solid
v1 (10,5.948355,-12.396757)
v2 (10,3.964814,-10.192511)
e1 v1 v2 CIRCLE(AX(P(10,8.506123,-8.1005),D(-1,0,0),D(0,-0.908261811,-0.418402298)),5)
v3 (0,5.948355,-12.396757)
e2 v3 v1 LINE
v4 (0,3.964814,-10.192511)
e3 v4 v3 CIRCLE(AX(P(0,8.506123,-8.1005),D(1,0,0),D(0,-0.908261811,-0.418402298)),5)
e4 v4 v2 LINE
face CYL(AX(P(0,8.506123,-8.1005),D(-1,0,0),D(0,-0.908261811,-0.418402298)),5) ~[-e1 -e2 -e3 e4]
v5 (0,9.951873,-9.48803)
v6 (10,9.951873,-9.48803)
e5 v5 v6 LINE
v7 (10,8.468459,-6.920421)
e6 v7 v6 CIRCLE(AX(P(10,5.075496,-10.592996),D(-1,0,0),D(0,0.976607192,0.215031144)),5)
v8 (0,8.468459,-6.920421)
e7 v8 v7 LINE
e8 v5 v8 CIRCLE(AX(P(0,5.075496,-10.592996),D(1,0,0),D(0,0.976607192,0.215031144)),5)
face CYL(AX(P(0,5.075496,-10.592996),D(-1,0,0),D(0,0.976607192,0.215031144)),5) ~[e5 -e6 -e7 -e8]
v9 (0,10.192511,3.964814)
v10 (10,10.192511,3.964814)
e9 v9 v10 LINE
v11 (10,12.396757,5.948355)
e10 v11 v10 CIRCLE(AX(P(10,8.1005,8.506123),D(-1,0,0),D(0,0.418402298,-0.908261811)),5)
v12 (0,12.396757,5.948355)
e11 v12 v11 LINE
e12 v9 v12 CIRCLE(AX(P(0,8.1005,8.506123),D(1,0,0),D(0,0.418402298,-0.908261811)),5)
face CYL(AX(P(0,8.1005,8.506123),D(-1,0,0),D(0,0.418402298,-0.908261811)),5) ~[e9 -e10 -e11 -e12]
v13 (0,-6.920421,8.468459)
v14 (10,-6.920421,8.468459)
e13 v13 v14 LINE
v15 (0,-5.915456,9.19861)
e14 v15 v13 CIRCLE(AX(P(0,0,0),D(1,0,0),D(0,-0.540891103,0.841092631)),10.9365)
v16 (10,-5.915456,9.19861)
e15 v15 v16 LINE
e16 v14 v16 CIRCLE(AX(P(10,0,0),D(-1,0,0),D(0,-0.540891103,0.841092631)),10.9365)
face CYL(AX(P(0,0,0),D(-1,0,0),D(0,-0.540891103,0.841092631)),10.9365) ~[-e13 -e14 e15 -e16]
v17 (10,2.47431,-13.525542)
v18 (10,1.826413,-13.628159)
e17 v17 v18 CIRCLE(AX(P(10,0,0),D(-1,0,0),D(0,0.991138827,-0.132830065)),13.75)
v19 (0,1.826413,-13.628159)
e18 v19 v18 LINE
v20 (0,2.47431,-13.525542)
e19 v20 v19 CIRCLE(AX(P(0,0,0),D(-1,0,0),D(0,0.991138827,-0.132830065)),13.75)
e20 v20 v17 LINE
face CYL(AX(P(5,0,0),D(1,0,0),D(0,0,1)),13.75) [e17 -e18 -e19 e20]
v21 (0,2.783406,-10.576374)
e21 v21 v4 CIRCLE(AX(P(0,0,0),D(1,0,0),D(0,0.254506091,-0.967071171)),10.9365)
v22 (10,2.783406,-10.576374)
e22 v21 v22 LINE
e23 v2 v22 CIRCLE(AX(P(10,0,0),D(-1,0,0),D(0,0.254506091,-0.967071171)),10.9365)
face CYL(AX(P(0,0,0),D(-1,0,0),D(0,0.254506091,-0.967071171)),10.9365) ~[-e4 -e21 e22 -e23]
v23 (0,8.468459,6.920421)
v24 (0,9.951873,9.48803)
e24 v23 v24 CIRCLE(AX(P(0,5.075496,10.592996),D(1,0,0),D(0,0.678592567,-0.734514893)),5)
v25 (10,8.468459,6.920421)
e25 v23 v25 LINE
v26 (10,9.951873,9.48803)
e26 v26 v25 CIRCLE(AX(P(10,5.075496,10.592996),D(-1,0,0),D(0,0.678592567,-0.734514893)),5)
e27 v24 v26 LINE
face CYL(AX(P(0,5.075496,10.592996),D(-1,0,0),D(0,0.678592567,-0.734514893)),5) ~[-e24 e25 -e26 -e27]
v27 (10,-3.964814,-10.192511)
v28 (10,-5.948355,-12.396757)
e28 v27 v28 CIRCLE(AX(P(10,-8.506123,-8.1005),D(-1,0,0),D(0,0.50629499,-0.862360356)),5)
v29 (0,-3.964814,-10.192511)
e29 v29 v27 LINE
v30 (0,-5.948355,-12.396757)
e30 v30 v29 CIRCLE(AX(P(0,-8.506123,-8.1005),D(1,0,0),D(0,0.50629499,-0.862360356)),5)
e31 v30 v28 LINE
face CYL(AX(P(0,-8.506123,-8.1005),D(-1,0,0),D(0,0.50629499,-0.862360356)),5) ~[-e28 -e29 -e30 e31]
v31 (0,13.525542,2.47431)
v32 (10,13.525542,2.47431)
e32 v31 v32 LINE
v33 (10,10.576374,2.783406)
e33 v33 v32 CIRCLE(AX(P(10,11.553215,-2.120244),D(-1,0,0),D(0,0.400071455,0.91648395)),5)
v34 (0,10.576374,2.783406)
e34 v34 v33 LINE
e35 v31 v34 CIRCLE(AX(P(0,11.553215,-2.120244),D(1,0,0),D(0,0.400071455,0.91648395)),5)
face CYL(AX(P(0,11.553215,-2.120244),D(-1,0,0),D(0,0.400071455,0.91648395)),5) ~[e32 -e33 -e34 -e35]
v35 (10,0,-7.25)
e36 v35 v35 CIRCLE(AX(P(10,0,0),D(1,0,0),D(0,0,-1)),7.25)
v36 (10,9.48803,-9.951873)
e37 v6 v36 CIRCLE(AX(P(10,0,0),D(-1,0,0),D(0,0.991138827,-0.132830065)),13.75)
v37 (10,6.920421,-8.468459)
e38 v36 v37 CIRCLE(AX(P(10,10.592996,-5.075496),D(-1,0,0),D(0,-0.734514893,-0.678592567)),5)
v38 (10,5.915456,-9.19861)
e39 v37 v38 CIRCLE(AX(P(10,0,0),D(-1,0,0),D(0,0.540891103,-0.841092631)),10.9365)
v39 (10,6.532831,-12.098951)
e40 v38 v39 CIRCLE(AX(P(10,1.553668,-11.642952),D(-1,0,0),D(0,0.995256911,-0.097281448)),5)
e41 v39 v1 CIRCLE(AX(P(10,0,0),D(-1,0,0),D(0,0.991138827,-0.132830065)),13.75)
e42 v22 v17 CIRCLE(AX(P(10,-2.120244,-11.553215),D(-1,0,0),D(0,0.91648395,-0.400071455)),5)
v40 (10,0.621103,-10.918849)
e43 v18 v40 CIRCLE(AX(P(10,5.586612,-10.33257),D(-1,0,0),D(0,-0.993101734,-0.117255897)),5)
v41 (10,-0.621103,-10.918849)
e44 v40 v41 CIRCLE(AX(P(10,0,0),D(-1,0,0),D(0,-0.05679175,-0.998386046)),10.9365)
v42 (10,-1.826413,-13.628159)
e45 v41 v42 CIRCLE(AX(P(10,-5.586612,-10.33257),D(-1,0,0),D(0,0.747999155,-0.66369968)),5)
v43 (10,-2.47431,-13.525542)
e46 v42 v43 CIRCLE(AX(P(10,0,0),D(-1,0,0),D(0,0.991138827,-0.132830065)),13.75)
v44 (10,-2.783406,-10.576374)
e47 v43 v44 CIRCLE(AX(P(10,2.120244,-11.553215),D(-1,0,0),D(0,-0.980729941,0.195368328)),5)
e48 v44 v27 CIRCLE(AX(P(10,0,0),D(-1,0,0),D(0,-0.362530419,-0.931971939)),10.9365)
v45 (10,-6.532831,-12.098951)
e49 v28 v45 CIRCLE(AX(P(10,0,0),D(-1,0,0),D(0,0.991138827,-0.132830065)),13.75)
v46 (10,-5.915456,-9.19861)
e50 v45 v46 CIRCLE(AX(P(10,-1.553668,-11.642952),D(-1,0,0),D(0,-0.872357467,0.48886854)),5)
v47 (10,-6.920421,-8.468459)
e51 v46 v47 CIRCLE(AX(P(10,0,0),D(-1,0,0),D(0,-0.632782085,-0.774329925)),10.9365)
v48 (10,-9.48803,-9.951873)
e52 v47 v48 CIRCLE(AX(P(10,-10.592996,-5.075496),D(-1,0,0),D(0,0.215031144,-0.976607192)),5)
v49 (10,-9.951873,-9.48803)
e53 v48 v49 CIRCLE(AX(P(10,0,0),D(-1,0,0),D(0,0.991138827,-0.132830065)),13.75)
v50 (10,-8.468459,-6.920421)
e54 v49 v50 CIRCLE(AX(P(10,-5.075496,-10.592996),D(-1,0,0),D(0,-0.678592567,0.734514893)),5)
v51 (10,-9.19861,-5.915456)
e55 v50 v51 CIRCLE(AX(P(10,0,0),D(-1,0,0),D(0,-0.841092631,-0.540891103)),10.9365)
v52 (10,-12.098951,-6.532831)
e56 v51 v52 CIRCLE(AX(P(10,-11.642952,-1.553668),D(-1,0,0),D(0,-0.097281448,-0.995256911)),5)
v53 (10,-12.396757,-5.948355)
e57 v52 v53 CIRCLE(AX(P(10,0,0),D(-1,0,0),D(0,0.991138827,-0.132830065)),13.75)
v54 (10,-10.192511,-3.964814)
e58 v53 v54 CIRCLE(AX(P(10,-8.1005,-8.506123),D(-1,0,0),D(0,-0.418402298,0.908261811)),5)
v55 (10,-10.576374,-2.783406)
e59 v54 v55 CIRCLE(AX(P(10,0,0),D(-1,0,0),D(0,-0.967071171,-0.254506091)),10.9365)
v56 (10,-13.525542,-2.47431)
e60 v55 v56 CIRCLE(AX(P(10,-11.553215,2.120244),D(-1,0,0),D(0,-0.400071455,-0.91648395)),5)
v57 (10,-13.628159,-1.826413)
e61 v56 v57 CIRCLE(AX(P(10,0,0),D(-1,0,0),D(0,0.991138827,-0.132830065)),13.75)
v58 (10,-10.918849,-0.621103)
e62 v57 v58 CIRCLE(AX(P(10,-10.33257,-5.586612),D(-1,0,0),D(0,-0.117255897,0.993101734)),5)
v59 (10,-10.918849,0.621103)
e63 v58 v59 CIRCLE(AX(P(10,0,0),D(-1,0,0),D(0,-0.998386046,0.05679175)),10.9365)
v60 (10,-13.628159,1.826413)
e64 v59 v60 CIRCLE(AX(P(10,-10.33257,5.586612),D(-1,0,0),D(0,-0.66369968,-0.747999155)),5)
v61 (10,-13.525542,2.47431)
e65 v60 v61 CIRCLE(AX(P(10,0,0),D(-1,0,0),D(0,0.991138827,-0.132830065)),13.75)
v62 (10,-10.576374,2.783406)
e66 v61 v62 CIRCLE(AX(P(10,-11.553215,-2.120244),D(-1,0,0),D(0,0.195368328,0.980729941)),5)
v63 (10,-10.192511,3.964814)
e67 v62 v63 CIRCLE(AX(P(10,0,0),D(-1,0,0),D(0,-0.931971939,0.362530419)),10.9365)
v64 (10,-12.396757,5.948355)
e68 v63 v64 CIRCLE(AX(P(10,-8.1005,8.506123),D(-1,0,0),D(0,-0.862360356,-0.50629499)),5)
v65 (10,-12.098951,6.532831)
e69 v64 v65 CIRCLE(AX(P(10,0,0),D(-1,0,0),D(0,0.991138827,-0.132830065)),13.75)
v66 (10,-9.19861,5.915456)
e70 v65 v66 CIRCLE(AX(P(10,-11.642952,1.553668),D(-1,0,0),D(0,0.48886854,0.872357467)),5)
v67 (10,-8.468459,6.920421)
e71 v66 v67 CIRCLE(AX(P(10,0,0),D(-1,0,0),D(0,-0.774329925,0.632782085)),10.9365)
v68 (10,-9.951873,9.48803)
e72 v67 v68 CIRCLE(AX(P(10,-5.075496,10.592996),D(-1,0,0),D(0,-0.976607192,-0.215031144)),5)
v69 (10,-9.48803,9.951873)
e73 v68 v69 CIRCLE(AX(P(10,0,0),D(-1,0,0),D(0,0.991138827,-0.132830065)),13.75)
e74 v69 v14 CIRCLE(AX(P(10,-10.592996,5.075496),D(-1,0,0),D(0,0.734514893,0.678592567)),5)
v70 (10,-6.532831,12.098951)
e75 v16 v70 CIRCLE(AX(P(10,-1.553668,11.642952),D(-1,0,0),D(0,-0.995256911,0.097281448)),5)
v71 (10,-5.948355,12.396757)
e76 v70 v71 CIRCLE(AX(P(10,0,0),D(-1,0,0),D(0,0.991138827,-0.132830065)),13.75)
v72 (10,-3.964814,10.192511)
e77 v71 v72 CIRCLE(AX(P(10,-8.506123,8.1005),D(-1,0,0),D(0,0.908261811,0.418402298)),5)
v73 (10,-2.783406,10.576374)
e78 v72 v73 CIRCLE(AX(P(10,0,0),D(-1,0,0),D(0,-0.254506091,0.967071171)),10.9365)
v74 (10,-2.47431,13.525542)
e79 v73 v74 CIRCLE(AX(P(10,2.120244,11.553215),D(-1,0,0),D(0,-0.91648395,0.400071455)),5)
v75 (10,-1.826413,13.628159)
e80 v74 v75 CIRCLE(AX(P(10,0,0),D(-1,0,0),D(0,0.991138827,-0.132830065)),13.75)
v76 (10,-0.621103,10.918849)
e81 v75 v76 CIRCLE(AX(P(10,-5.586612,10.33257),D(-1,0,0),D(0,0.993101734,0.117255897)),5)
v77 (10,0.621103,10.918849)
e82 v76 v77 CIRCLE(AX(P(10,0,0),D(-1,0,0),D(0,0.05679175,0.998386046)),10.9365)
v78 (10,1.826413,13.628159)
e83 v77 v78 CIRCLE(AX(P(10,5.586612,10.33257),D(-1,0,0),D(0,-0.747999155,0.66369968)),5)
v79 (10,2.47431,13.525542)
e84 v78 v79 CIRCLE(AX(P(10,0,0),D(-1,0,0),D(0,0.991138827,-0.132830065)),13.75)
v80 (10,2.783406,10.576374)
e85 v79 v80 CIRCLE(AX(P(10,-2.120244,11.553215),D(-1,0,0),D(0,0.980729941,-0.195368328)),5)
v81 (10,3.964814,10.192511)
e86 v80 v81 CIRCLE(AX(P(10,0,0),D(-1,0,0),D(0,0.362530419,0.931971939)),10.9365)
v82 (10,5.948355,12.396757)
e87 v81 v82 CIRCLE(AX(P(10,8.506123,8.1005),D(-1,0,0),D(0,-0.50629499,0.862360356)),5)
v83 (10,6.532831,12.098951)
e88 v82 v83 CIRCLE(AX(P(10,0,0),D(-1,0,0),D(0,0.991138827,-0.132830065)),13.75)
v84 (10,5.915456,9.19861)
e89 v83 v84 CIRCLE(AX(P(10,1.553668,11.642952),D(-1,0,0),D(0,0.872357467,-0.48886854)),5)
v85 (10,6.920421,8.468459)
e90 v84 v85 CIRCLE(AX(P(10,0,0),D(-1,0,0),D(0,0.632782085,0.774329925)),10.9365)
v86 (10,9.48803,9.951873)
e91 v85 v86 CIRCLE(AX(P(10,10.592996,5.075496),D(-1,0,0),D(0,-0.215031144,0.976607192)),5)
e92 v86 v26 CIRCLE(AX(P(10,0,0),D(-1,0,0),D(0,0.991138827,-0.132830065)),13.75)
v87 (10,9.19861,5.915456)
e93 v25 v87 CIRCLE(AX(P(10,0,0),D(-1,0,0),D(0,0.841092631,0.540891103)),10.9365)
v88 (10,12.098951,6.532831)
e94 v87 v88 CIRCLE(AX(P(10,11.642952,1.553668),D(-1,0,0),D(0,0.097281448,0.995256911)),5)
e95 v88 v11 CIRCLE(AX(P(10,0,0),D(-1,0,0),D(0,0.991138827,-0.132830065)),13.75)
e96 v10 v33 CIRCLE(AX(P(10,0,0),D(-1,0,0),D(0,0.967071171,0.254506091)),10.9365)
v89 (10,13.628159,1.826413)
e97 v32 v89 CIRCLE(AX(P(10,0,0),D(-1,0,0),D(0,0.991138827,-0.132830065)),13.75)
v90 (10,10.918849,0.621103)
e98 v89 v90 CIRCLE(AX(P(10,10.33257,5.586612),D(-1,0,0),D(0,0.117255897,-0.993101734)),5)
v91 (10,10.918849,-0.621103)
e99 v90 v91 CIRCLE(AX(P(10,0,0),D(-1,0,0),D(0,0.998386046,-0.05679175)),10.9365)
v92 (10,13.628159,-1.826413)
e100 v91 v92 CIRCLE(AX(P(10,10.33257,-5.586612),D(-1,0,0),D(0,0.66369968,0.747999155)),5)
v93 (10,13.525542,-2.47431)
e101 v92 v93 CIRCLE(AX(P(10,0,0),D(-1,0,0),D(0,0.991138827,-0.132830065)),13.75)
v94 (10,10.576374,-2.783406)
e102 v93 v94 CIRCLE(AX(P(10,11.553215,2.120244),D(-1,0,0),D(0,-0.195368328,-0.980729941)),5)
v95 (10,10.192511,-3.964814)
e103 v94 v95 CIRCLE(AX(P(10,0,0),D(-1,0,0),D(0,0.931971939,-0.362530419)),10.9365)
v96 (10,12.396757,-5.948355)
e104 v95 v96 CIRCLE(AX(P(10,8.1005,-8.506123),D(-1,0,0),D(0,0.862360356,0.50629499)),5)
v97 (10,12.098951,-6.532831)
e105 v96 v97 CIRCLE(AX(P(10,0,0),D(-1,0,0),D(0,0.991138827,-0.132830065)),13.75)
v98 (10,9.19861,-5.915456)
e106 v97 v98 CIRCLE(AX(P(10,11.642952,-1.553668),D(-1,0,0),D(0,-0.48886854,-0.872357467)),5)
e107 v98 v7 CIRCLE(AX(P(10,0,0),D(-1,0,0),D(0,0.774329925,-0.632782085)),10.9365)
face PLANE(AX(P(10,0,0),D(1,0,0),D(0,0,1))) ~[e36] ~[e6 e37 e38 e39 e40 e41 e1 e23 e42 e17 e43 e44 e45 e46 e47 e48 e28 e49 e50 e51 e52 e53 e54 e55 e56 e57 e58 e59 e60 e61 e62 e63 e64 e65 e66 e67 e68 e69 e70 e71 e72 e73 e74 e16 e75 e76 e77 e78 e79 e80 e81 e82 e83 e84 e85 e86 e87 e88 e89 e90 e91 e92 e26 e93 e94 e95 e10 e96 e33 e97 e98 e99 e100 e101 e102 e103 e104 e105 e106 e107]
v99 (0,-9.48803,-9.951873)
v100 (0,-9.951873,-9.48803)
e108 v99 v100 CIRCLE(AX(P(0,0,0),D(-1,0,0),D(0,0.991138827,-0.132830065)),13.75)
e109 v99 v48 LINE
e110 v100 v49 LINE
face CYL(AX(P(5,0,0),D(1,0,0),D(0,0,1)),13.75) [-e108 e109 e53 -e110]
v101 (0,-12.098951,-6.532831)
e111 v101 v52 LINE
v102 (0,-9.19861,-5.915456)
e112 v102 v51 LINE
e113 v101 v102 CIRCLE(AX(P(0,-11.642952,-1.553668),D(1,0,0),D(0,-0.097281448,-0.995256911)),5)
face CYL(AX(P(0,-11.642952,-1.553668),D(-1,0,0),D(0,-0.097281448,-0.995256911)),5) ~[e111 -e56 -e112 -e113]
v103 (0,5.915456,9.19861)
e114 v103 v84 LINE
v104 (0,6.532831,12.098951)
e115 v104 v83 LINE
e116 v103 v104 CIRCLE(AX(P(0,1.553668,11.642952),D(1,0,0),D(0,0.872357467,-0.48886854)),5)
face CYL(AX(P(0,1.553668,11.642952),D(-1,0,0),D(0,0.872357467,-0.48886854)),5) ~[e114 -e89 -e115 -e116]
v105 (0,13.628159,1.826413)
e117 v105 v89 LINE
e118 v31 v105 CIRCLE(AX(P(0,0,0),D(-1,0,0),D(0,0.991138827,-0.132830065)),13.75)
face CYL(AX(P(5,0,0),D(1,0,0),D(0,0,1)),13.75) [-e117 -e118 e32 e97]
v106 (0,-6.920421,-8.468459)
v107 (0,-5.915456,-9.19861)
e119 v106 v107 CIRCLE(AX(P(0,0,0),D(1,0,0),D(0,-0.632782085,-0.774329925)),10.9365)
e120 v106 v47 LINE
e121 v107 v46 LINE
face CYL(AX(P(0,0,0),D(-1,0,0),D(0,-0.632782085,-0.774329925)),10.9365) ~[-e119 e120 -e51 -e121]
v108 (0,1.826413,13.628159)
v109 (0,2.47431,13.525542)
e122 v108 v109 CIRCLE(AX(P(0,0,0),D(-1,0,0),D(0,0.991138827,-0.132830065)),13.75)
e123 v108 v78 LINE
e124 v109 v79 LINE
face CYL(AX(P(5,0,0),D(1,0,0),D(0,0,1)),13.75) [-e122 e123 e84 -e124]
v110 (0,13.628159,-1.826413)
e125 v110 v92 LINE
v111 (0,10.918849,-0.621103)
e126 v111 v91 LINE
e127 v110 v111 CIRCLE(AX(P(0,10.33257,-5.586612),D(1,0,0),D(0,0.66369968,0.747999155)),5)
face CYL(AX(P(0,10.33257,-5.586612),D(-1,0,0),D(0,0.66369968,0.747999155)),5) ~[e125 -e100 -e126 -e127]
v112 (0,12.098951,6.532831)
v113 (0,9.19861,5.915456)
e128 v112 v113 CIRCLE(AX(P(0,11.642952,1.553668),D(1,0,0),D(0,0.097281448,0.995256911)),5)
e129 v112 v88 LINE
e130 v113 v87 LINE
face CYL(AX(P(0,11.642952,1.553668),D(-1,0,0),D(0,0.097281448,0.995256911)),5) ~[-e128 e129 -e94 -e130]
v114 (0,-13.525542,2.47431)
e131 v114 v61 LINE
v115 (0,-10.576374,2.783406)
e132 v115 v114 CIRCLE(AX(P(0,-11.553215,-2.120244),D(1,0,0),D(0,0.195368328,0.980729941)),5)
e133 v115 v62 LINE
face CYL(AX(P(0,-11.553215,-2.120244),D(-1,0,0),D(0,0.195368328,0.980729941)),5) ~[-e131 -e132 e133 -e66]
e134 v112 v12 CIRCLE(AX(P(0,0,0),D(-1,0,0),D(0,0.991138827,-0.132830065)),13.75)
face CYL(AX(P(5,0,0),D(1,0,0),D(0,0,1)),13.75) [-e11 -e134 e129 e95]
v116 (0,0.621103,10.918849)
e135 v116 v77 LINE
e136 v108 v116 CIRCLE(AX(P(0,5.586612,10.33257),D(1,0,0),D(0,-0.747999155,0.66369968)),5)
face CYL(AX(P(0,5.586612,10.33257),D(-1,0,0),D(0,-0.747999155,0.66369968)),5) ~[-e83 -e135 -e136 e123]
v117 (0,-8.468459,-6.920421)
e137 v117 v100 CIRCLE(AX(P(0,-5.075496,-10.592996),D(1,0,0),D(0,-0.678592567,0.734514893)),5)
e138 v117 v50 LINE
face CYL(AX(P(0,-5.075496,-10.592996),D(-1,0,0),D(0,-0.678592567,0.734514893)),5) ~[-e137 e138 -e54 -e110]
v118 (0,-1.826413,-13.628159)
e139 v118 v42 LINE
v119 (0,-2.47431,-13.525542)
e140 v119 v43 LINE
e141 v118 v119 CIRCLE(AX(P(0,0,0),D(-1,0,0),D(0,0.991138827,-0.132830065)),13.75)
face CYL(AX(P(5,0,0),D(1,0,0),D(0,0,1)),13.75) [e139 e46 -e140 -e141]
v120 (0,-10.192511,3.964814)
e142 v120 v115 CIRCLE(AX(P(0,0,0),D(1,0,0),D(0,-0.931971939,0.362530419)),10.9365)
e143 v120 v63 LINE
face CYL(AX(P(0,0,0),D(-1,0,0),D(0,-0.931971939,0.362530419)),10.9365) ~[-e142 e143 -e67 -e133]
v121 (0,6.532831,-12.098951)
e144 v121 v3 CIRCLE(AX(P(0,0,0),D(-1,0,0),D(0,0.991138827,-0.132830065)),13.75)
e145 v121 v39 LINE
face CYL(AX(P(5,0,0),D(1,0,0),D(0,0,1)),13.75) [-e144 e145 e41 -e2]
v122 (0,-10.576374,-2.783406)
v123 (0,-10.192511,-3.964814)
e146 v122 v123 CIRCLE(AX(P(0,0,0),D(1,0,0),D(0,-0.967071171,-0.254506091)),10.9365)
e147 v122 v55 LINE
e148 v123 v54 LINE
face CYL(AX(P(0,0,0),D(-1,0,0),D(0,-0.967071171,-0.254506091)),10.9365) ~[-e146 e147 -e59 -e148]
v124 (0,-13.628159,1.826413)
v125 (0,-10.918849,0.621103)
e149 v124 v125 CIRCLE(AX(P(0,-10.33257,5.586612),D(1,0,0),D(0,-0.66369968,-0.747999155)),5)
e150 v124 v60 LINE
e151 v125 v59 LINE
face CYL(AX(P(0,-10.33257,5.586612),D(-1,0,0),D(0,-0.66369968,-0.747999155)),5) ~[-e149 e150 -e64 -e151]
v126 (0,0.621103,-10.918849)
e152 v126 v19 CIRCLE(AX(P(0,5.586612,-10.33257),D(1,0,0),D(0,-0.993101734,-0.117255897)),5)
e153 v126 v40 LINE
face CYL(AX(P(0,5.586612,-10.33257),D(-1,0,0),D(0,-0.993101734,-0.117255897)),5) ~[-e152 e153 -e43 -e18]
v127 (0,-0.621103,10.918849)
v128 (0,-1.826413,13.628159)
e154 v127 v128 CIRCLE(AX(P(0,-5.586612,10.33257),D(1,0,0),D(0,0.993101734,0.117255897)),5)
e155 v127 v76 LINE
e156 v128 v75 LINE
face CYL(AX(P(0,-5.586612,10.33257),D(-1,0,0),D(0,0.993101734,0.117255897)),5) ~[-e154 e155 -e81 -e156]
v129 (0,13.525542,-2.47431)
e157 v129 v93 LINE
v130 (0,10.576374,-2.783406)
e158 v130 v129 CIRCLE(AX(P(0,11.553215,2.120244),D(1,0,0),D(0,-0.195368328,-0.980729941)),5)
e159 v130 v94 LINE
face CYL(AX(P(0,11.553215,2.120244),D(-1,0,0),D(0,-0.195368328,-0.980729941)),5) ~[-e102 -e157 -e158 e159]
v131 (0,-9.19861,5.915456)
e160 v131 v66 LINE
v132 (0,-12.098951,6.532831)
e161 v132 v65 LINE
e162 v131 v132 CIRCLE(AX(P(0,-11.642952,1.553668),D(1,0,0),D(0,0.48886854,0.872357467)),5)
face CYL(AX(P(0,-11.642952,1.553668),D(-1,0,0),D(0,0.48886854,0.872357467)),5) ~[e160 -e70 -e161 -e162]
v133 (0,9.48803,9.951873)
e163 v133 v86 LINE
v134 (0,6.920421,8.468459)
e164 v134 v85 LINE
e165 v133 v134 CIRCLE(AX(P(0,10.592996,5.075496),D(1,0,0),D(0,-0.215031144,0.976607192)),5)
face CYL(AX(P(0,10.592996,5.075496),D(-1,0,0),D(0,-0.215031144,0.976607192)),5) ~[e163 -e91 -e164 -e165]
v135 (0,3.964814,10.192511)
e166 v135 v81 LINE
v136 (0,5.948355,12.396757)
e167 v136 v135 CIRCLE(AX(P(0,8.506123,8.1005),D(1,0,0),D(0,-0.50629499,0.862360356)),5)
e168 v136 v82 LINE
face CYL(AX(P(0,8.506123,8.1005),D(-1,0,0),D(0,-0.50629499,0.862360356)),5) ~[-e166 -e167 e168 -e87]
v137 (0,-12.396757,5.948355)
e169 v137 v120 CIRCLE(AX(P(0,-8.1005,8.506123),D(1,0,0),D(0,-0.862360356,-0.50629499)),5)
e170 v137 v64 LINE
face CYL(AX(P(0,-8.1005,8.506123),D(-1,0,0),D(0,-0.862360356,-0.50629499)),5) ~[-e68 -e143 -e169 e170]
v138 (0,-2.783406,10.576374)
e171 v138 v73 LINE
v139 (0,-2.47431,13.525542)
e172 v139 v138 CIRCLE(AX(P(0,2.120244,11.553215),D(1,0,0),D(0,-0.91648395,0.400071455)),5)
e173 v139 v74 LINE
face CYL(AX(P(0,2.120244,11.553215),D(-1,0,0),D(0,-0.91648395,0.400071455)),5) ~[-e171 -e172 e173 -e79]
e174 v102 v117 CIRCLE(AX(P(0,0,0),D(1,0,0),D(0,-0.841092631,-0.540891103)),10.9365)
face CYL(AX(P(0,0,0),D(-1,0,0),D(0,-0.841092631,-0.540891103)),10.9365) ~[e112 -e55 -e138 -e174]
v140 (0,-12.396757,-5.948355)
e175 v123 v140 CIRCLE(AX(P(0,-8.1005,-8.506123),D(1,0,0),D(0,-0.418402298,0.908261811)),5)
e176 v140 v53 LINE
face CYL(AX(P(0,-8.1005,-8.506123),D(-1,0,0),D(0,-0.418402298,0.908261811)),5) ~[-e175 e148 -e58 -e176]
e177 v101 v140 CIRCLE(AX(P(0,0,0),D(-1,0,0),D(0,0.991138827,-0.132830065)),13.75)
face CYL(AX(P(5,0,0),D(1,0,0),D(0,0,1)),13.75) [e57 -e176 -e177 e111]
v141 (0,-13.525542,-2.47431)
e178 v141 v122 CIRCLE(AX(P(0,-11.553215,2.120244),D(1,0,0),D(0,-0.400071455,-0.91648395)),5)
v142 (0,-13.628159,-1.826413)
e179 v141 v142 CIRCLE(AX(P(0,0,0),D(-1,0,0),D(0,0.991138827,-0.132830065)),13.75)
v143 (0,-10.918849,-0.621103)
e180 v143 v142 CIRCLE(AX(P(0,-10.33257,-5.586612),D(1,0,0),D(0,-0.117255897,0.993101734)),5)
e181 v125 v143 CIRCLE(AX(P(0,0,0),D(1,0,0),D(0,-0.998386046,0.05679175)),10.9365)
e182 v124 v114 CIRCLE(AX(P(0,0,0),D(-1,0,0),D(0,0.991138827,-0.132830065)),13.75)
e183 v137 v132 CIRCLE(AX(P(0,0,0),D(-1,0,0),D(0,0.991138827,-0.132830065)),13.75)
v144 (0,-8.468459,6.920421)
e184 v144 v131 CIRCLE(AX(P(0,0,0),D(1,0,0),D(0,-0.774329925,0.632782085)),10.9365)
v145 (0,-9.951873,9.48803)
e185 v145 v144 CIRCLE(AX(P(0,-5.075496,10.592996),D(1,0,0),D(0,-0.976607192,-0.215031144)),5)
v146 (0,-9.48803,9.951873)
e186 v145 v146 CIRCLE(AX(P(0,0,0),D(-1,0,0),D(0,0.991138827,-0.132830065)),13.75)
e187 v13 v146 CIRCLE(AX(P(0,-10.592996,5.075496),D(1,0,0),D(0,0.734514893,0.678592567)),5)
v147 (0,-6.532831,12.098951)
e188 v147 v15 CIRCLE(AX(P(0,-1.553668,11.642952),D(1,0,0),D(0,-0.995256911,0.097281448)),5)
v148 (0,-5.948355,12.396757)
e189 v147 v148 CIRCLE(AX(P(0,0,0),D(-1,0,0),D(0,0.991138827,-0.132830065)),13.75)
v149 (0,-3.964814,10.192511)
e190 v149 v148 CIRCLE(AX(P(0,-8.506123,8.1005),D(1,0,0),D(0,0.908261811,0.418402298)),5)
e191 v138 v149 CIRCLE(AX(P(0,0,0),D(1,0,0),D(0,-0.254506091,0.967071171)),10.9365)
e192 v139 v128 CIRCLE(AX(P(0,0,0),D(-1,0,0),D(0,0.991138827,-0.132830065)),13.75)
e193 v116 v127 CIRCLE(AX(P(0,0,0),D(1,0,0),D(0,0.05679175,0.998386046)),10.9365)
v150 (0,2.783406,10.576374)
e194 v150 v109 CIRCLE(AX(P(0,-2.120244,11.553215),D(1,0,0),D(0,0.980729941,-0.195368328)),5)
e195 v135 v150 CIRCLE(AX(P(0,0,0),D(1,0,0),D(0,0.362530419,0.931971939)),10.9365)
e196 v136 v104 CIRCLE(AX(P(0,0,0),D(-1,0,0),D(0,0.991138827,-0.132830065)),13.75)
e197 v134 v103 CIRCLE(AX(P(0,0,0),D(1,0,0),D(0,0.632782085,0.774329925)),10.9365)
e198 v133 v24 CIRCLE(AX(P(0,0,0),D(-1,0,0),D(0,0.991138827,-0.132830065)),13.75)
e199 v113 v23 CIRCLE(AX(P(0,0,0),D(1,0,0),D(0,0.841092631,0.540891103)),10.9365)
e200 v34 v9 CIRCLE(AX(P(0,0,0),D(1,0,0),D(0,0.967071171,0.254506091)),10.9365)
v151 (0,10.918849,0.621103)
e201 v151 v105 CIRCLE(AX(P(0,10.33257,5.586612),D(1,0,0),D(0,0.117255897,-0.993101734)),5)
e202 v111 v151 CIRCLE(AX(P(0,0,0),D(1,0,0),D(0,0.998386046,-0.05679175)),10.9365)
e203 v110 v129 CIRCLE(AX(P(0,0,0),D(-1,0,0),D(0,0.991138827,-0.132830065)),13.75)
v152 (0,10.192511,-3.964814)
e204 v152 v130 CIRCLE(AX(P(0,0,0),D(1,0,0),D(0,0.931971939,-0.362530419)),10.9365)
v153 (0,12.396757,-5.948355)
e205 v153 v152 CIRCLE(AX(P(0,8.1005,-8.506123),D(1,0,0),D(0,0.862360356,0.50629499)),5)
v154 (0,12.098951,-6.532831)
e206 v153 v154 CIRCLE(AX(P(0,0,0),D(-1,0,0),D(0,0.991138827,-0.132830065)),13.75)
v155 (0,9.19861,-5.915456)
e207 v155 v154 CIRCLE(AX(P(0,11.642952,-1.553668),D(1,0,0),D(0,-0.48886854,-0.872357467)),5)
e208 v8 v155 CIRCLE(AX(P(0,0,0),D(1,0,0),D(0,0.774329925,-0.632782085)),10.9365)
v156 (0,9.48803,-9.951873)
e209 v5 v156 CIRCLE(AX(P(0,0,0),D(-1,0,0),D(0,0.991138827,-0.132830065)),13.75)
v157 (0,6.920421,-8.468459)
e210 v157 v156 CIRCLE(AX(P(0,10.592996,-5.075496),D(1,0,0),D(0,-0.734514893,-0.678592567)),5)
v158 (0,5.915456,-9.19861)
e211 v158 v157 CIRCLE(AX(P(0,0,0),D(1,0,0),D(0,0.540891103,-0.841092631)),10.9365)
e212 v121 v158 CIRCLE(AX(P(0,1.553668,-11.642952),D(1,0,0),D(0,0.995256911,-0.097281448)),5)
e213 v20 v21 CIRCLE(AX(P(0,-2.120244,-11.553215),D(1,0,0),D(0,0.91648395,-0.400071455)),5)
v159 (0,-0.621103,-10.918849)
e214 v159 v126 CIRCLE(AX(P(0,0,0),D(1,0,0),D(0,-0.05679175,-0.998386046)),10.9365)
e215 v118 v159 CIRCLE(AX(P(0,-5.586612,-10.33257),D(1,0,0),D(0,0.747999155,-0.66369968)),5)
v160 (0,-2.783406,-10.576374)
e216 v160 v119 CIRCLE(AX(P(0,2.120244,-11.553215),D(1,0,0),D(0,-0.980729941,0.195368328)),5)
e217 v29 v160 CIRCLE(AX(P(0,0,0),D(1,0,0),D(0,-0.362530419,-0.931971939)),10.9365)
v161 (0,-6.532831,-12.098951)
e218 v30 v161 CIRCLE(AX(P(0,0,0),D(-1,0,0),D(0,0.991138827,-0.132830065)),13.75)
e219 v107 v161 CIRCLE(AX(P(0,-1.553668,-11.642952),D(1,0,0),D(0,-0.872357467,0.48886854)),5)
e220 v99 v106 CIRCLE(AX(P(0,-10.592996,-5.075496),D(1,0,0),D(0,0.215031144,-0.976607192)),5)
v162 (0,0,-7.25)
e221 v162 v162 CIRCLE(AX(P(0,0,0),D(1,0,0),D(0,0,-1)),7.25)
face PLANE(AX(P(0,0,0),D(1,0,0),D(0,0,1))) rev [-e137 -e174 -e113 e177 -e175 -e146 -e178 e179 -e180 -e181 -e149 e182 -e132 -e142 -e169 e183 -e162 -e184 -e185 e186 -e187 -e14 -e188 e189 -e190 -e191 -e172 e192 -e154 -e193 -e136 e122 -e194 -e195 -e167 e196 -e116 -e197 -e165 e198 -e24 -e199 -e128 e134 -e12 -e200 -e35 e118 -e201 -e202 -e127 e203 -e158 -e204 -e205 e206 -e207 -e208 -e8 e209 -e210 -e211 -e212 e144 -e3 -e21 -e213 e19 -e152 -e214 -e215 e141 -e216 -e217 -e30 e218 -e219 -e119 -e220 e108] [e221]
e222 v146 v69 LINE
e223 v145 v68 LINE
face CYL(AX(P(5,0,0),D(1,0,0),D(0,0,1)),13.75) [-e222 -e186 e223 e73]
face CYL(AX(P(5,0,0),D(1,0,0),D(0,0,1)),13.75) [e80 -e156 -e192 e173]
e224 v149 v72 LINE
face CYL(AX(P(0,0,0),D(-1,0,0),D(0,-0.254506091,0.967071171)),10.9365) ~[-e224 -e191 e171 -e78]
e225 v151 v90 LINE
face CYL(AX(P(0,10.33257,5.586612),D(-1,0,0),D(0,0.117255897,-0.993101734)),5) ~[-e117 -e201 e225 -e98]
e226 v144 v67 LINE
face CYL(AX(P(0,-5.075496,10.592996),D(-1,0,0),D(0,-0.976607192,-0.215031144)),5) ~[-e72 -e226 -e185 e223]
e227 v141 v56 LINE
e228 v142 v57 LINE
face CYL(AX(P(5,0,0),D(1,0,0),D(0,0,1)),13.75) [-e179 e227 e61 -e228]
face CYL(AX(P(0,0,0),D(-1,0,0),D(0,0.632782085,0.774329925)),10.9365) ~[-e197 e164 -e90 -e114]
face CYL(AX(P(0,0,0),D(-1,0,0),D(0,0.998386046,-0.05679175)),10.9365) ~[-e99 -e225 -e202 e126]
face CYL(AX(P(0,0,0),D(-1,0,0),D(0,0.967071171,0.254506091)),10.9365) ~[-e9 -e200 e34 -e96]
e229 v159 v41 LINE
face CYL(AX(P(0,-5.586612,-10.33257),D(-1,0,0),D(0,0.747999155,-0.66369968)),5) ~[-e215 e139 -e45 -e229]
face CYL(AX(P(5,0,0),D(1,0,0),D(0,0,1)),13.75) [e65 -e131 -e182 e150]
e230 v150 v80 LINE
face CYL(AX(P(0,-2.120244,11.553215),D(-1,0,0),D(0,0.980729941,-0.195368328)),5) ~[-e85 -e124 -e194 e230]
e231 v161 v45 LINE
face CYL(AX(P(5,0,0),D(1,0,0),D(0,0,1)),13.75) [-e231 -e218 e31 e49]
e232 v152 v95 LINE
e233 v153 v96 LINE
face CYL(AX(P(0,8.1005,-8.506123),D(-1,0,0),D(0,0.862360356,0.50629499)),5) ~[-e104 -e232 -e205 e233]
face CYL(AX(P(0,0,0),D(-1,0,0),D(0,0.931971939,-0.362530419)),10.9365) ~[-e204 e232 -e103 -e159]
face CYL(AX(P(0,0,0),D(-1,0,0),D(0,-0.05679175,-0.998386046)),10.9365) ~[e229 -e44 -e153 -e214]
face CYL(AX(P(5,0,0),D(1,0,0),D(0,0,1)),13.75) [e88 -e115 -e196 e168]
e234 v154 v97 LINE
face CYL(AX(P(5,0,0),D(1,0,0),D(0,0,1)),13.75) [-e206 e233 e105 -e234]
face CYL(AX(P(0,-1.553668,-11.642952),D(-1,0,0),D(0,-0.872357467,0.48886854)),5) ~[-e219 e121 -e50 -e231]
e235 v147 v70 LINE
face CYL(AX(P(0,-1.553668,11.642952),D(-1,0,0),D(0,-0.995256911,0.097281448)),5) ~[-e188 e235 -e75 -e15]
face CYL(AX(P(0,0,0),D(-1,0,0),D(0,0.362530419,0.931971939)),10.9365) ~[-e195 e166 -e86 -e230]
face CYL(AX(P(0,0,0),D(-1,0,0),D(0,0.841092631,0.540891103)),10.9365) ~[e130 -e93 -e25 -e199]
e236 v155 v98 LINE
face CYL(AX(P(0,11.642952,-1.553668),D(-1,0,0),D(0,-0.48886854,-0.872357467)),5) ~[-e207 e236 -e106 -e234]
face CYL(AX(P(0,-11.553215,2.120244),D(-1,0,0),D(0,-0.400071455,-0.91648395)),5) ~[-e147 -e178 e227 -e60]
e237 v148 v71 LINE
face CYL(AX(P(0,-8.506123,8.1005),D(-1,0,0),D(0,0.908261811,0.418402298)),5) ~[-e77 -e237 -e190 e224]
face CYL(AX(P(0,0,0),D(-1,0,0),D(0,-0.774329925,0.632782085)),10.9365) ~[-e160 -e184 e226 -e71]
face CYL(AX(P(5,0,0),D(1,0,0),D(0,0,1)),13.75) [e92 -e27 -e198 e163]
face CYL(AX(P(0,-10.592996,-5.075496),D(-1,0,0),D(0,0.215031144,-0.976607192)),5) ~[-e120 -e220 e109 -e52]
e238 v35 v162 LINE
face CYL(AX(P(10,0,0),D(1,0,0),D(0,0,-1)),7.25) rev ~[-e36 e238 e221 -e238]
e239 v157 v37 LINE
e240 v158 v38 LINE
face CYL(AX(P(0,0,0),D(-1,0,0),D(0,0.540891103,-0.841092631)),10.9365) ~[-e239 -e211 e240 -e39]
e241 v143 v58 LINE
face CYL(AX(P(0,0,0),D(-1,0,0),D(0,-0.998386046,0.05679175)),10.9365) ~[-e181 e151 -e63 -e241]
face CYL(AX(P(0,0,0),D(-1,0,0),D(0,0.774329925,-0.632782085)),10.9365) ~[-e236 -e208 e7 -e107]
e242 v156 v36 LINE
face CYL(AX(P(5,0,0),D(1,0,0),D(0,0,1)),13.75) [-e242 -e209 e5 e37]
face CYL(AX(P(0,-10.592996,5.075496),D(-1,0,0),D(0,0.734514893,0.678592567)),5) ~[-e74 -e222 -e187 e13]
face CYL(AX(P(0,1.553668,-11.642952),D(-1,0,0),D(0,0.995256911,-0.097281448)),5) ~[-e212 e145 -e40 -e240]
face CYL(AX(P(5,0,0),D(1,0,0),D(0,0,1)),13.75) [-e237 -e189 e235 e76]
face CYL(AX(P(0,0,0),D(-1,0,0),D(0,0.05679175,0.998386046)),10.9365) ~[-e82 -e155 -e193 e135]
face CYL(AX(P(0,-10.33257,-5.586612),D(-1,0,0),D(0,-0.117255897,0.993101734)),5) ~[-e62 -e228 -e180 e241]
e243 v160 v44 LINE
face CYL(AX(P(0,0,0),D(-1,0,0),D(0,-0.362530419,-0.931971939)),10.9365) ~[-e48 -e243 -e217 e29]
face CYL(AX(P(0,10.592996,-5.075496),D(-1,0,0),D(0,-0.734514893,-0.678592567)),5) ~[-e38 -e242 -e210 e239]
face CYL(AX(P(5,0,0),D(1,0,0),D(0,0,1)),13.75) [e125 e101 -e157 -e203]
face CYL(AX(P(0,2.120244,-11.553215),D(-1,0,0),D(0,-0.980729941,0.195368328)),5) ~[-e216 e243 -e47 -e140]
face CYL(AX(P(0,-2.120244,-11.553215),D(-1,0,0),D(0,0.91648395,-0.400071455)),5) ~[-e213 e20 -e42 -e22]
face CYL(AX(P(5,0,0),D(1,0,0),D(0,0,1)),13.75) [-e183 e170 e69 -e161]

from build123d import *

# Parameters (mm, degrees)
BASPROSKE_W        = 10
BASPROSKE_H        = 13.75
TOOTHCUT_DEPTH     = 22.866069606
TEETHCUTS_COUNT    = 20
TEETHCUTS_ANGLE    = 342
BORSKE_R           = 7
BORE_DEPTH         = 50.0000508
SKETCH2_R          = 7.25
CUT_EXTRUDE1_DEPTH = 10


with BuildPart() as part:
    # BasProSke → Base-Revolve (revolve)
    with BuildSketch(Plane(origin=(0, 0, 0), x_dir=(1, 0, 0), z_dir=(0, 1, 0)), mode=Mode.PRIVATE) as base_revolve_sk:
        with Locations((5, 6.875)):
            Rectangle(BASPROSKE_W, BASPROSKE_H)
    revolve(base_revolve_sk.sketch.rotate(Axis((-10, 0, 0), (1, 0, 0)), 180), axis=Axis((-10, 0, 0), (1, 0, 0)))

    # TooCutSke → ToothCut (cut, through all)
    with BuildSketch(Plane(origin=(0, 0, 0), x_dir=(0, 0, -1), z_dir=(1, 0, 0))):
        with BuildLine():
            ThreePointArc((0.62110296, 10.918848994), (0, 10.9365), (-0.62110296, 10.918848994))
            ThreePointArc((-0.62110296, 10.918848994), (-1.024517052, 12.378857135), (-1.846615859, 13.651067908))
            ThreePointArc((-1.846615859, 13.651067908), (0, 13.7754), (1.846615859, 13.651067908))
            ThreePointArc((1.846615859, 13.651067908), (1.024517052, 12.378857135), (0.62110296, 10.918848994))
        make_face()
    toothcut = extrude(amount=TOOTHCUT_DEPTH, mode=Mode.SUBTRACT)

    # TeethCuts: ToothCut ×20 about axis
    teethcuts_axis = Axis((-10, 0, 0), (1, 0, 0))
    for i in range(1, TEETHCUTS_COUNT):
        add(toothcut.rotate(teethcuts_axis, i * TEETHCUTS_ANGLE / (TEETHCUTS_COUNT - 1)), mode=Mode.SUBTRACT)

    # BorSke → Bore (cut, symmetric)
    with BuildSketch(Plane(origin=(0, 0, 0), x_dir=(0, 0, -1), z_dir=(1, 0, 0))):
        with Locations(Location((0, 0, 0), (0, 0, 180))):
            Circle(BORSKE_R)
    extrude(amount=BORE_DEPTH, both=True, mode=Mode.SUBTRACT)

    # Sketch2 → Cut-Extrude1 (cut)
    with BuildSketch(Plane(origin=(10, 0, 0), x_dir=(0, 0, -1), z_dir=(1, 0, 0))):
        Circle(SKETCH2_R)
    extrude(amount=-CUT_EXTRUDE1_DEPTH, mode=Mode.SUBTRACT)


solid = part.part
